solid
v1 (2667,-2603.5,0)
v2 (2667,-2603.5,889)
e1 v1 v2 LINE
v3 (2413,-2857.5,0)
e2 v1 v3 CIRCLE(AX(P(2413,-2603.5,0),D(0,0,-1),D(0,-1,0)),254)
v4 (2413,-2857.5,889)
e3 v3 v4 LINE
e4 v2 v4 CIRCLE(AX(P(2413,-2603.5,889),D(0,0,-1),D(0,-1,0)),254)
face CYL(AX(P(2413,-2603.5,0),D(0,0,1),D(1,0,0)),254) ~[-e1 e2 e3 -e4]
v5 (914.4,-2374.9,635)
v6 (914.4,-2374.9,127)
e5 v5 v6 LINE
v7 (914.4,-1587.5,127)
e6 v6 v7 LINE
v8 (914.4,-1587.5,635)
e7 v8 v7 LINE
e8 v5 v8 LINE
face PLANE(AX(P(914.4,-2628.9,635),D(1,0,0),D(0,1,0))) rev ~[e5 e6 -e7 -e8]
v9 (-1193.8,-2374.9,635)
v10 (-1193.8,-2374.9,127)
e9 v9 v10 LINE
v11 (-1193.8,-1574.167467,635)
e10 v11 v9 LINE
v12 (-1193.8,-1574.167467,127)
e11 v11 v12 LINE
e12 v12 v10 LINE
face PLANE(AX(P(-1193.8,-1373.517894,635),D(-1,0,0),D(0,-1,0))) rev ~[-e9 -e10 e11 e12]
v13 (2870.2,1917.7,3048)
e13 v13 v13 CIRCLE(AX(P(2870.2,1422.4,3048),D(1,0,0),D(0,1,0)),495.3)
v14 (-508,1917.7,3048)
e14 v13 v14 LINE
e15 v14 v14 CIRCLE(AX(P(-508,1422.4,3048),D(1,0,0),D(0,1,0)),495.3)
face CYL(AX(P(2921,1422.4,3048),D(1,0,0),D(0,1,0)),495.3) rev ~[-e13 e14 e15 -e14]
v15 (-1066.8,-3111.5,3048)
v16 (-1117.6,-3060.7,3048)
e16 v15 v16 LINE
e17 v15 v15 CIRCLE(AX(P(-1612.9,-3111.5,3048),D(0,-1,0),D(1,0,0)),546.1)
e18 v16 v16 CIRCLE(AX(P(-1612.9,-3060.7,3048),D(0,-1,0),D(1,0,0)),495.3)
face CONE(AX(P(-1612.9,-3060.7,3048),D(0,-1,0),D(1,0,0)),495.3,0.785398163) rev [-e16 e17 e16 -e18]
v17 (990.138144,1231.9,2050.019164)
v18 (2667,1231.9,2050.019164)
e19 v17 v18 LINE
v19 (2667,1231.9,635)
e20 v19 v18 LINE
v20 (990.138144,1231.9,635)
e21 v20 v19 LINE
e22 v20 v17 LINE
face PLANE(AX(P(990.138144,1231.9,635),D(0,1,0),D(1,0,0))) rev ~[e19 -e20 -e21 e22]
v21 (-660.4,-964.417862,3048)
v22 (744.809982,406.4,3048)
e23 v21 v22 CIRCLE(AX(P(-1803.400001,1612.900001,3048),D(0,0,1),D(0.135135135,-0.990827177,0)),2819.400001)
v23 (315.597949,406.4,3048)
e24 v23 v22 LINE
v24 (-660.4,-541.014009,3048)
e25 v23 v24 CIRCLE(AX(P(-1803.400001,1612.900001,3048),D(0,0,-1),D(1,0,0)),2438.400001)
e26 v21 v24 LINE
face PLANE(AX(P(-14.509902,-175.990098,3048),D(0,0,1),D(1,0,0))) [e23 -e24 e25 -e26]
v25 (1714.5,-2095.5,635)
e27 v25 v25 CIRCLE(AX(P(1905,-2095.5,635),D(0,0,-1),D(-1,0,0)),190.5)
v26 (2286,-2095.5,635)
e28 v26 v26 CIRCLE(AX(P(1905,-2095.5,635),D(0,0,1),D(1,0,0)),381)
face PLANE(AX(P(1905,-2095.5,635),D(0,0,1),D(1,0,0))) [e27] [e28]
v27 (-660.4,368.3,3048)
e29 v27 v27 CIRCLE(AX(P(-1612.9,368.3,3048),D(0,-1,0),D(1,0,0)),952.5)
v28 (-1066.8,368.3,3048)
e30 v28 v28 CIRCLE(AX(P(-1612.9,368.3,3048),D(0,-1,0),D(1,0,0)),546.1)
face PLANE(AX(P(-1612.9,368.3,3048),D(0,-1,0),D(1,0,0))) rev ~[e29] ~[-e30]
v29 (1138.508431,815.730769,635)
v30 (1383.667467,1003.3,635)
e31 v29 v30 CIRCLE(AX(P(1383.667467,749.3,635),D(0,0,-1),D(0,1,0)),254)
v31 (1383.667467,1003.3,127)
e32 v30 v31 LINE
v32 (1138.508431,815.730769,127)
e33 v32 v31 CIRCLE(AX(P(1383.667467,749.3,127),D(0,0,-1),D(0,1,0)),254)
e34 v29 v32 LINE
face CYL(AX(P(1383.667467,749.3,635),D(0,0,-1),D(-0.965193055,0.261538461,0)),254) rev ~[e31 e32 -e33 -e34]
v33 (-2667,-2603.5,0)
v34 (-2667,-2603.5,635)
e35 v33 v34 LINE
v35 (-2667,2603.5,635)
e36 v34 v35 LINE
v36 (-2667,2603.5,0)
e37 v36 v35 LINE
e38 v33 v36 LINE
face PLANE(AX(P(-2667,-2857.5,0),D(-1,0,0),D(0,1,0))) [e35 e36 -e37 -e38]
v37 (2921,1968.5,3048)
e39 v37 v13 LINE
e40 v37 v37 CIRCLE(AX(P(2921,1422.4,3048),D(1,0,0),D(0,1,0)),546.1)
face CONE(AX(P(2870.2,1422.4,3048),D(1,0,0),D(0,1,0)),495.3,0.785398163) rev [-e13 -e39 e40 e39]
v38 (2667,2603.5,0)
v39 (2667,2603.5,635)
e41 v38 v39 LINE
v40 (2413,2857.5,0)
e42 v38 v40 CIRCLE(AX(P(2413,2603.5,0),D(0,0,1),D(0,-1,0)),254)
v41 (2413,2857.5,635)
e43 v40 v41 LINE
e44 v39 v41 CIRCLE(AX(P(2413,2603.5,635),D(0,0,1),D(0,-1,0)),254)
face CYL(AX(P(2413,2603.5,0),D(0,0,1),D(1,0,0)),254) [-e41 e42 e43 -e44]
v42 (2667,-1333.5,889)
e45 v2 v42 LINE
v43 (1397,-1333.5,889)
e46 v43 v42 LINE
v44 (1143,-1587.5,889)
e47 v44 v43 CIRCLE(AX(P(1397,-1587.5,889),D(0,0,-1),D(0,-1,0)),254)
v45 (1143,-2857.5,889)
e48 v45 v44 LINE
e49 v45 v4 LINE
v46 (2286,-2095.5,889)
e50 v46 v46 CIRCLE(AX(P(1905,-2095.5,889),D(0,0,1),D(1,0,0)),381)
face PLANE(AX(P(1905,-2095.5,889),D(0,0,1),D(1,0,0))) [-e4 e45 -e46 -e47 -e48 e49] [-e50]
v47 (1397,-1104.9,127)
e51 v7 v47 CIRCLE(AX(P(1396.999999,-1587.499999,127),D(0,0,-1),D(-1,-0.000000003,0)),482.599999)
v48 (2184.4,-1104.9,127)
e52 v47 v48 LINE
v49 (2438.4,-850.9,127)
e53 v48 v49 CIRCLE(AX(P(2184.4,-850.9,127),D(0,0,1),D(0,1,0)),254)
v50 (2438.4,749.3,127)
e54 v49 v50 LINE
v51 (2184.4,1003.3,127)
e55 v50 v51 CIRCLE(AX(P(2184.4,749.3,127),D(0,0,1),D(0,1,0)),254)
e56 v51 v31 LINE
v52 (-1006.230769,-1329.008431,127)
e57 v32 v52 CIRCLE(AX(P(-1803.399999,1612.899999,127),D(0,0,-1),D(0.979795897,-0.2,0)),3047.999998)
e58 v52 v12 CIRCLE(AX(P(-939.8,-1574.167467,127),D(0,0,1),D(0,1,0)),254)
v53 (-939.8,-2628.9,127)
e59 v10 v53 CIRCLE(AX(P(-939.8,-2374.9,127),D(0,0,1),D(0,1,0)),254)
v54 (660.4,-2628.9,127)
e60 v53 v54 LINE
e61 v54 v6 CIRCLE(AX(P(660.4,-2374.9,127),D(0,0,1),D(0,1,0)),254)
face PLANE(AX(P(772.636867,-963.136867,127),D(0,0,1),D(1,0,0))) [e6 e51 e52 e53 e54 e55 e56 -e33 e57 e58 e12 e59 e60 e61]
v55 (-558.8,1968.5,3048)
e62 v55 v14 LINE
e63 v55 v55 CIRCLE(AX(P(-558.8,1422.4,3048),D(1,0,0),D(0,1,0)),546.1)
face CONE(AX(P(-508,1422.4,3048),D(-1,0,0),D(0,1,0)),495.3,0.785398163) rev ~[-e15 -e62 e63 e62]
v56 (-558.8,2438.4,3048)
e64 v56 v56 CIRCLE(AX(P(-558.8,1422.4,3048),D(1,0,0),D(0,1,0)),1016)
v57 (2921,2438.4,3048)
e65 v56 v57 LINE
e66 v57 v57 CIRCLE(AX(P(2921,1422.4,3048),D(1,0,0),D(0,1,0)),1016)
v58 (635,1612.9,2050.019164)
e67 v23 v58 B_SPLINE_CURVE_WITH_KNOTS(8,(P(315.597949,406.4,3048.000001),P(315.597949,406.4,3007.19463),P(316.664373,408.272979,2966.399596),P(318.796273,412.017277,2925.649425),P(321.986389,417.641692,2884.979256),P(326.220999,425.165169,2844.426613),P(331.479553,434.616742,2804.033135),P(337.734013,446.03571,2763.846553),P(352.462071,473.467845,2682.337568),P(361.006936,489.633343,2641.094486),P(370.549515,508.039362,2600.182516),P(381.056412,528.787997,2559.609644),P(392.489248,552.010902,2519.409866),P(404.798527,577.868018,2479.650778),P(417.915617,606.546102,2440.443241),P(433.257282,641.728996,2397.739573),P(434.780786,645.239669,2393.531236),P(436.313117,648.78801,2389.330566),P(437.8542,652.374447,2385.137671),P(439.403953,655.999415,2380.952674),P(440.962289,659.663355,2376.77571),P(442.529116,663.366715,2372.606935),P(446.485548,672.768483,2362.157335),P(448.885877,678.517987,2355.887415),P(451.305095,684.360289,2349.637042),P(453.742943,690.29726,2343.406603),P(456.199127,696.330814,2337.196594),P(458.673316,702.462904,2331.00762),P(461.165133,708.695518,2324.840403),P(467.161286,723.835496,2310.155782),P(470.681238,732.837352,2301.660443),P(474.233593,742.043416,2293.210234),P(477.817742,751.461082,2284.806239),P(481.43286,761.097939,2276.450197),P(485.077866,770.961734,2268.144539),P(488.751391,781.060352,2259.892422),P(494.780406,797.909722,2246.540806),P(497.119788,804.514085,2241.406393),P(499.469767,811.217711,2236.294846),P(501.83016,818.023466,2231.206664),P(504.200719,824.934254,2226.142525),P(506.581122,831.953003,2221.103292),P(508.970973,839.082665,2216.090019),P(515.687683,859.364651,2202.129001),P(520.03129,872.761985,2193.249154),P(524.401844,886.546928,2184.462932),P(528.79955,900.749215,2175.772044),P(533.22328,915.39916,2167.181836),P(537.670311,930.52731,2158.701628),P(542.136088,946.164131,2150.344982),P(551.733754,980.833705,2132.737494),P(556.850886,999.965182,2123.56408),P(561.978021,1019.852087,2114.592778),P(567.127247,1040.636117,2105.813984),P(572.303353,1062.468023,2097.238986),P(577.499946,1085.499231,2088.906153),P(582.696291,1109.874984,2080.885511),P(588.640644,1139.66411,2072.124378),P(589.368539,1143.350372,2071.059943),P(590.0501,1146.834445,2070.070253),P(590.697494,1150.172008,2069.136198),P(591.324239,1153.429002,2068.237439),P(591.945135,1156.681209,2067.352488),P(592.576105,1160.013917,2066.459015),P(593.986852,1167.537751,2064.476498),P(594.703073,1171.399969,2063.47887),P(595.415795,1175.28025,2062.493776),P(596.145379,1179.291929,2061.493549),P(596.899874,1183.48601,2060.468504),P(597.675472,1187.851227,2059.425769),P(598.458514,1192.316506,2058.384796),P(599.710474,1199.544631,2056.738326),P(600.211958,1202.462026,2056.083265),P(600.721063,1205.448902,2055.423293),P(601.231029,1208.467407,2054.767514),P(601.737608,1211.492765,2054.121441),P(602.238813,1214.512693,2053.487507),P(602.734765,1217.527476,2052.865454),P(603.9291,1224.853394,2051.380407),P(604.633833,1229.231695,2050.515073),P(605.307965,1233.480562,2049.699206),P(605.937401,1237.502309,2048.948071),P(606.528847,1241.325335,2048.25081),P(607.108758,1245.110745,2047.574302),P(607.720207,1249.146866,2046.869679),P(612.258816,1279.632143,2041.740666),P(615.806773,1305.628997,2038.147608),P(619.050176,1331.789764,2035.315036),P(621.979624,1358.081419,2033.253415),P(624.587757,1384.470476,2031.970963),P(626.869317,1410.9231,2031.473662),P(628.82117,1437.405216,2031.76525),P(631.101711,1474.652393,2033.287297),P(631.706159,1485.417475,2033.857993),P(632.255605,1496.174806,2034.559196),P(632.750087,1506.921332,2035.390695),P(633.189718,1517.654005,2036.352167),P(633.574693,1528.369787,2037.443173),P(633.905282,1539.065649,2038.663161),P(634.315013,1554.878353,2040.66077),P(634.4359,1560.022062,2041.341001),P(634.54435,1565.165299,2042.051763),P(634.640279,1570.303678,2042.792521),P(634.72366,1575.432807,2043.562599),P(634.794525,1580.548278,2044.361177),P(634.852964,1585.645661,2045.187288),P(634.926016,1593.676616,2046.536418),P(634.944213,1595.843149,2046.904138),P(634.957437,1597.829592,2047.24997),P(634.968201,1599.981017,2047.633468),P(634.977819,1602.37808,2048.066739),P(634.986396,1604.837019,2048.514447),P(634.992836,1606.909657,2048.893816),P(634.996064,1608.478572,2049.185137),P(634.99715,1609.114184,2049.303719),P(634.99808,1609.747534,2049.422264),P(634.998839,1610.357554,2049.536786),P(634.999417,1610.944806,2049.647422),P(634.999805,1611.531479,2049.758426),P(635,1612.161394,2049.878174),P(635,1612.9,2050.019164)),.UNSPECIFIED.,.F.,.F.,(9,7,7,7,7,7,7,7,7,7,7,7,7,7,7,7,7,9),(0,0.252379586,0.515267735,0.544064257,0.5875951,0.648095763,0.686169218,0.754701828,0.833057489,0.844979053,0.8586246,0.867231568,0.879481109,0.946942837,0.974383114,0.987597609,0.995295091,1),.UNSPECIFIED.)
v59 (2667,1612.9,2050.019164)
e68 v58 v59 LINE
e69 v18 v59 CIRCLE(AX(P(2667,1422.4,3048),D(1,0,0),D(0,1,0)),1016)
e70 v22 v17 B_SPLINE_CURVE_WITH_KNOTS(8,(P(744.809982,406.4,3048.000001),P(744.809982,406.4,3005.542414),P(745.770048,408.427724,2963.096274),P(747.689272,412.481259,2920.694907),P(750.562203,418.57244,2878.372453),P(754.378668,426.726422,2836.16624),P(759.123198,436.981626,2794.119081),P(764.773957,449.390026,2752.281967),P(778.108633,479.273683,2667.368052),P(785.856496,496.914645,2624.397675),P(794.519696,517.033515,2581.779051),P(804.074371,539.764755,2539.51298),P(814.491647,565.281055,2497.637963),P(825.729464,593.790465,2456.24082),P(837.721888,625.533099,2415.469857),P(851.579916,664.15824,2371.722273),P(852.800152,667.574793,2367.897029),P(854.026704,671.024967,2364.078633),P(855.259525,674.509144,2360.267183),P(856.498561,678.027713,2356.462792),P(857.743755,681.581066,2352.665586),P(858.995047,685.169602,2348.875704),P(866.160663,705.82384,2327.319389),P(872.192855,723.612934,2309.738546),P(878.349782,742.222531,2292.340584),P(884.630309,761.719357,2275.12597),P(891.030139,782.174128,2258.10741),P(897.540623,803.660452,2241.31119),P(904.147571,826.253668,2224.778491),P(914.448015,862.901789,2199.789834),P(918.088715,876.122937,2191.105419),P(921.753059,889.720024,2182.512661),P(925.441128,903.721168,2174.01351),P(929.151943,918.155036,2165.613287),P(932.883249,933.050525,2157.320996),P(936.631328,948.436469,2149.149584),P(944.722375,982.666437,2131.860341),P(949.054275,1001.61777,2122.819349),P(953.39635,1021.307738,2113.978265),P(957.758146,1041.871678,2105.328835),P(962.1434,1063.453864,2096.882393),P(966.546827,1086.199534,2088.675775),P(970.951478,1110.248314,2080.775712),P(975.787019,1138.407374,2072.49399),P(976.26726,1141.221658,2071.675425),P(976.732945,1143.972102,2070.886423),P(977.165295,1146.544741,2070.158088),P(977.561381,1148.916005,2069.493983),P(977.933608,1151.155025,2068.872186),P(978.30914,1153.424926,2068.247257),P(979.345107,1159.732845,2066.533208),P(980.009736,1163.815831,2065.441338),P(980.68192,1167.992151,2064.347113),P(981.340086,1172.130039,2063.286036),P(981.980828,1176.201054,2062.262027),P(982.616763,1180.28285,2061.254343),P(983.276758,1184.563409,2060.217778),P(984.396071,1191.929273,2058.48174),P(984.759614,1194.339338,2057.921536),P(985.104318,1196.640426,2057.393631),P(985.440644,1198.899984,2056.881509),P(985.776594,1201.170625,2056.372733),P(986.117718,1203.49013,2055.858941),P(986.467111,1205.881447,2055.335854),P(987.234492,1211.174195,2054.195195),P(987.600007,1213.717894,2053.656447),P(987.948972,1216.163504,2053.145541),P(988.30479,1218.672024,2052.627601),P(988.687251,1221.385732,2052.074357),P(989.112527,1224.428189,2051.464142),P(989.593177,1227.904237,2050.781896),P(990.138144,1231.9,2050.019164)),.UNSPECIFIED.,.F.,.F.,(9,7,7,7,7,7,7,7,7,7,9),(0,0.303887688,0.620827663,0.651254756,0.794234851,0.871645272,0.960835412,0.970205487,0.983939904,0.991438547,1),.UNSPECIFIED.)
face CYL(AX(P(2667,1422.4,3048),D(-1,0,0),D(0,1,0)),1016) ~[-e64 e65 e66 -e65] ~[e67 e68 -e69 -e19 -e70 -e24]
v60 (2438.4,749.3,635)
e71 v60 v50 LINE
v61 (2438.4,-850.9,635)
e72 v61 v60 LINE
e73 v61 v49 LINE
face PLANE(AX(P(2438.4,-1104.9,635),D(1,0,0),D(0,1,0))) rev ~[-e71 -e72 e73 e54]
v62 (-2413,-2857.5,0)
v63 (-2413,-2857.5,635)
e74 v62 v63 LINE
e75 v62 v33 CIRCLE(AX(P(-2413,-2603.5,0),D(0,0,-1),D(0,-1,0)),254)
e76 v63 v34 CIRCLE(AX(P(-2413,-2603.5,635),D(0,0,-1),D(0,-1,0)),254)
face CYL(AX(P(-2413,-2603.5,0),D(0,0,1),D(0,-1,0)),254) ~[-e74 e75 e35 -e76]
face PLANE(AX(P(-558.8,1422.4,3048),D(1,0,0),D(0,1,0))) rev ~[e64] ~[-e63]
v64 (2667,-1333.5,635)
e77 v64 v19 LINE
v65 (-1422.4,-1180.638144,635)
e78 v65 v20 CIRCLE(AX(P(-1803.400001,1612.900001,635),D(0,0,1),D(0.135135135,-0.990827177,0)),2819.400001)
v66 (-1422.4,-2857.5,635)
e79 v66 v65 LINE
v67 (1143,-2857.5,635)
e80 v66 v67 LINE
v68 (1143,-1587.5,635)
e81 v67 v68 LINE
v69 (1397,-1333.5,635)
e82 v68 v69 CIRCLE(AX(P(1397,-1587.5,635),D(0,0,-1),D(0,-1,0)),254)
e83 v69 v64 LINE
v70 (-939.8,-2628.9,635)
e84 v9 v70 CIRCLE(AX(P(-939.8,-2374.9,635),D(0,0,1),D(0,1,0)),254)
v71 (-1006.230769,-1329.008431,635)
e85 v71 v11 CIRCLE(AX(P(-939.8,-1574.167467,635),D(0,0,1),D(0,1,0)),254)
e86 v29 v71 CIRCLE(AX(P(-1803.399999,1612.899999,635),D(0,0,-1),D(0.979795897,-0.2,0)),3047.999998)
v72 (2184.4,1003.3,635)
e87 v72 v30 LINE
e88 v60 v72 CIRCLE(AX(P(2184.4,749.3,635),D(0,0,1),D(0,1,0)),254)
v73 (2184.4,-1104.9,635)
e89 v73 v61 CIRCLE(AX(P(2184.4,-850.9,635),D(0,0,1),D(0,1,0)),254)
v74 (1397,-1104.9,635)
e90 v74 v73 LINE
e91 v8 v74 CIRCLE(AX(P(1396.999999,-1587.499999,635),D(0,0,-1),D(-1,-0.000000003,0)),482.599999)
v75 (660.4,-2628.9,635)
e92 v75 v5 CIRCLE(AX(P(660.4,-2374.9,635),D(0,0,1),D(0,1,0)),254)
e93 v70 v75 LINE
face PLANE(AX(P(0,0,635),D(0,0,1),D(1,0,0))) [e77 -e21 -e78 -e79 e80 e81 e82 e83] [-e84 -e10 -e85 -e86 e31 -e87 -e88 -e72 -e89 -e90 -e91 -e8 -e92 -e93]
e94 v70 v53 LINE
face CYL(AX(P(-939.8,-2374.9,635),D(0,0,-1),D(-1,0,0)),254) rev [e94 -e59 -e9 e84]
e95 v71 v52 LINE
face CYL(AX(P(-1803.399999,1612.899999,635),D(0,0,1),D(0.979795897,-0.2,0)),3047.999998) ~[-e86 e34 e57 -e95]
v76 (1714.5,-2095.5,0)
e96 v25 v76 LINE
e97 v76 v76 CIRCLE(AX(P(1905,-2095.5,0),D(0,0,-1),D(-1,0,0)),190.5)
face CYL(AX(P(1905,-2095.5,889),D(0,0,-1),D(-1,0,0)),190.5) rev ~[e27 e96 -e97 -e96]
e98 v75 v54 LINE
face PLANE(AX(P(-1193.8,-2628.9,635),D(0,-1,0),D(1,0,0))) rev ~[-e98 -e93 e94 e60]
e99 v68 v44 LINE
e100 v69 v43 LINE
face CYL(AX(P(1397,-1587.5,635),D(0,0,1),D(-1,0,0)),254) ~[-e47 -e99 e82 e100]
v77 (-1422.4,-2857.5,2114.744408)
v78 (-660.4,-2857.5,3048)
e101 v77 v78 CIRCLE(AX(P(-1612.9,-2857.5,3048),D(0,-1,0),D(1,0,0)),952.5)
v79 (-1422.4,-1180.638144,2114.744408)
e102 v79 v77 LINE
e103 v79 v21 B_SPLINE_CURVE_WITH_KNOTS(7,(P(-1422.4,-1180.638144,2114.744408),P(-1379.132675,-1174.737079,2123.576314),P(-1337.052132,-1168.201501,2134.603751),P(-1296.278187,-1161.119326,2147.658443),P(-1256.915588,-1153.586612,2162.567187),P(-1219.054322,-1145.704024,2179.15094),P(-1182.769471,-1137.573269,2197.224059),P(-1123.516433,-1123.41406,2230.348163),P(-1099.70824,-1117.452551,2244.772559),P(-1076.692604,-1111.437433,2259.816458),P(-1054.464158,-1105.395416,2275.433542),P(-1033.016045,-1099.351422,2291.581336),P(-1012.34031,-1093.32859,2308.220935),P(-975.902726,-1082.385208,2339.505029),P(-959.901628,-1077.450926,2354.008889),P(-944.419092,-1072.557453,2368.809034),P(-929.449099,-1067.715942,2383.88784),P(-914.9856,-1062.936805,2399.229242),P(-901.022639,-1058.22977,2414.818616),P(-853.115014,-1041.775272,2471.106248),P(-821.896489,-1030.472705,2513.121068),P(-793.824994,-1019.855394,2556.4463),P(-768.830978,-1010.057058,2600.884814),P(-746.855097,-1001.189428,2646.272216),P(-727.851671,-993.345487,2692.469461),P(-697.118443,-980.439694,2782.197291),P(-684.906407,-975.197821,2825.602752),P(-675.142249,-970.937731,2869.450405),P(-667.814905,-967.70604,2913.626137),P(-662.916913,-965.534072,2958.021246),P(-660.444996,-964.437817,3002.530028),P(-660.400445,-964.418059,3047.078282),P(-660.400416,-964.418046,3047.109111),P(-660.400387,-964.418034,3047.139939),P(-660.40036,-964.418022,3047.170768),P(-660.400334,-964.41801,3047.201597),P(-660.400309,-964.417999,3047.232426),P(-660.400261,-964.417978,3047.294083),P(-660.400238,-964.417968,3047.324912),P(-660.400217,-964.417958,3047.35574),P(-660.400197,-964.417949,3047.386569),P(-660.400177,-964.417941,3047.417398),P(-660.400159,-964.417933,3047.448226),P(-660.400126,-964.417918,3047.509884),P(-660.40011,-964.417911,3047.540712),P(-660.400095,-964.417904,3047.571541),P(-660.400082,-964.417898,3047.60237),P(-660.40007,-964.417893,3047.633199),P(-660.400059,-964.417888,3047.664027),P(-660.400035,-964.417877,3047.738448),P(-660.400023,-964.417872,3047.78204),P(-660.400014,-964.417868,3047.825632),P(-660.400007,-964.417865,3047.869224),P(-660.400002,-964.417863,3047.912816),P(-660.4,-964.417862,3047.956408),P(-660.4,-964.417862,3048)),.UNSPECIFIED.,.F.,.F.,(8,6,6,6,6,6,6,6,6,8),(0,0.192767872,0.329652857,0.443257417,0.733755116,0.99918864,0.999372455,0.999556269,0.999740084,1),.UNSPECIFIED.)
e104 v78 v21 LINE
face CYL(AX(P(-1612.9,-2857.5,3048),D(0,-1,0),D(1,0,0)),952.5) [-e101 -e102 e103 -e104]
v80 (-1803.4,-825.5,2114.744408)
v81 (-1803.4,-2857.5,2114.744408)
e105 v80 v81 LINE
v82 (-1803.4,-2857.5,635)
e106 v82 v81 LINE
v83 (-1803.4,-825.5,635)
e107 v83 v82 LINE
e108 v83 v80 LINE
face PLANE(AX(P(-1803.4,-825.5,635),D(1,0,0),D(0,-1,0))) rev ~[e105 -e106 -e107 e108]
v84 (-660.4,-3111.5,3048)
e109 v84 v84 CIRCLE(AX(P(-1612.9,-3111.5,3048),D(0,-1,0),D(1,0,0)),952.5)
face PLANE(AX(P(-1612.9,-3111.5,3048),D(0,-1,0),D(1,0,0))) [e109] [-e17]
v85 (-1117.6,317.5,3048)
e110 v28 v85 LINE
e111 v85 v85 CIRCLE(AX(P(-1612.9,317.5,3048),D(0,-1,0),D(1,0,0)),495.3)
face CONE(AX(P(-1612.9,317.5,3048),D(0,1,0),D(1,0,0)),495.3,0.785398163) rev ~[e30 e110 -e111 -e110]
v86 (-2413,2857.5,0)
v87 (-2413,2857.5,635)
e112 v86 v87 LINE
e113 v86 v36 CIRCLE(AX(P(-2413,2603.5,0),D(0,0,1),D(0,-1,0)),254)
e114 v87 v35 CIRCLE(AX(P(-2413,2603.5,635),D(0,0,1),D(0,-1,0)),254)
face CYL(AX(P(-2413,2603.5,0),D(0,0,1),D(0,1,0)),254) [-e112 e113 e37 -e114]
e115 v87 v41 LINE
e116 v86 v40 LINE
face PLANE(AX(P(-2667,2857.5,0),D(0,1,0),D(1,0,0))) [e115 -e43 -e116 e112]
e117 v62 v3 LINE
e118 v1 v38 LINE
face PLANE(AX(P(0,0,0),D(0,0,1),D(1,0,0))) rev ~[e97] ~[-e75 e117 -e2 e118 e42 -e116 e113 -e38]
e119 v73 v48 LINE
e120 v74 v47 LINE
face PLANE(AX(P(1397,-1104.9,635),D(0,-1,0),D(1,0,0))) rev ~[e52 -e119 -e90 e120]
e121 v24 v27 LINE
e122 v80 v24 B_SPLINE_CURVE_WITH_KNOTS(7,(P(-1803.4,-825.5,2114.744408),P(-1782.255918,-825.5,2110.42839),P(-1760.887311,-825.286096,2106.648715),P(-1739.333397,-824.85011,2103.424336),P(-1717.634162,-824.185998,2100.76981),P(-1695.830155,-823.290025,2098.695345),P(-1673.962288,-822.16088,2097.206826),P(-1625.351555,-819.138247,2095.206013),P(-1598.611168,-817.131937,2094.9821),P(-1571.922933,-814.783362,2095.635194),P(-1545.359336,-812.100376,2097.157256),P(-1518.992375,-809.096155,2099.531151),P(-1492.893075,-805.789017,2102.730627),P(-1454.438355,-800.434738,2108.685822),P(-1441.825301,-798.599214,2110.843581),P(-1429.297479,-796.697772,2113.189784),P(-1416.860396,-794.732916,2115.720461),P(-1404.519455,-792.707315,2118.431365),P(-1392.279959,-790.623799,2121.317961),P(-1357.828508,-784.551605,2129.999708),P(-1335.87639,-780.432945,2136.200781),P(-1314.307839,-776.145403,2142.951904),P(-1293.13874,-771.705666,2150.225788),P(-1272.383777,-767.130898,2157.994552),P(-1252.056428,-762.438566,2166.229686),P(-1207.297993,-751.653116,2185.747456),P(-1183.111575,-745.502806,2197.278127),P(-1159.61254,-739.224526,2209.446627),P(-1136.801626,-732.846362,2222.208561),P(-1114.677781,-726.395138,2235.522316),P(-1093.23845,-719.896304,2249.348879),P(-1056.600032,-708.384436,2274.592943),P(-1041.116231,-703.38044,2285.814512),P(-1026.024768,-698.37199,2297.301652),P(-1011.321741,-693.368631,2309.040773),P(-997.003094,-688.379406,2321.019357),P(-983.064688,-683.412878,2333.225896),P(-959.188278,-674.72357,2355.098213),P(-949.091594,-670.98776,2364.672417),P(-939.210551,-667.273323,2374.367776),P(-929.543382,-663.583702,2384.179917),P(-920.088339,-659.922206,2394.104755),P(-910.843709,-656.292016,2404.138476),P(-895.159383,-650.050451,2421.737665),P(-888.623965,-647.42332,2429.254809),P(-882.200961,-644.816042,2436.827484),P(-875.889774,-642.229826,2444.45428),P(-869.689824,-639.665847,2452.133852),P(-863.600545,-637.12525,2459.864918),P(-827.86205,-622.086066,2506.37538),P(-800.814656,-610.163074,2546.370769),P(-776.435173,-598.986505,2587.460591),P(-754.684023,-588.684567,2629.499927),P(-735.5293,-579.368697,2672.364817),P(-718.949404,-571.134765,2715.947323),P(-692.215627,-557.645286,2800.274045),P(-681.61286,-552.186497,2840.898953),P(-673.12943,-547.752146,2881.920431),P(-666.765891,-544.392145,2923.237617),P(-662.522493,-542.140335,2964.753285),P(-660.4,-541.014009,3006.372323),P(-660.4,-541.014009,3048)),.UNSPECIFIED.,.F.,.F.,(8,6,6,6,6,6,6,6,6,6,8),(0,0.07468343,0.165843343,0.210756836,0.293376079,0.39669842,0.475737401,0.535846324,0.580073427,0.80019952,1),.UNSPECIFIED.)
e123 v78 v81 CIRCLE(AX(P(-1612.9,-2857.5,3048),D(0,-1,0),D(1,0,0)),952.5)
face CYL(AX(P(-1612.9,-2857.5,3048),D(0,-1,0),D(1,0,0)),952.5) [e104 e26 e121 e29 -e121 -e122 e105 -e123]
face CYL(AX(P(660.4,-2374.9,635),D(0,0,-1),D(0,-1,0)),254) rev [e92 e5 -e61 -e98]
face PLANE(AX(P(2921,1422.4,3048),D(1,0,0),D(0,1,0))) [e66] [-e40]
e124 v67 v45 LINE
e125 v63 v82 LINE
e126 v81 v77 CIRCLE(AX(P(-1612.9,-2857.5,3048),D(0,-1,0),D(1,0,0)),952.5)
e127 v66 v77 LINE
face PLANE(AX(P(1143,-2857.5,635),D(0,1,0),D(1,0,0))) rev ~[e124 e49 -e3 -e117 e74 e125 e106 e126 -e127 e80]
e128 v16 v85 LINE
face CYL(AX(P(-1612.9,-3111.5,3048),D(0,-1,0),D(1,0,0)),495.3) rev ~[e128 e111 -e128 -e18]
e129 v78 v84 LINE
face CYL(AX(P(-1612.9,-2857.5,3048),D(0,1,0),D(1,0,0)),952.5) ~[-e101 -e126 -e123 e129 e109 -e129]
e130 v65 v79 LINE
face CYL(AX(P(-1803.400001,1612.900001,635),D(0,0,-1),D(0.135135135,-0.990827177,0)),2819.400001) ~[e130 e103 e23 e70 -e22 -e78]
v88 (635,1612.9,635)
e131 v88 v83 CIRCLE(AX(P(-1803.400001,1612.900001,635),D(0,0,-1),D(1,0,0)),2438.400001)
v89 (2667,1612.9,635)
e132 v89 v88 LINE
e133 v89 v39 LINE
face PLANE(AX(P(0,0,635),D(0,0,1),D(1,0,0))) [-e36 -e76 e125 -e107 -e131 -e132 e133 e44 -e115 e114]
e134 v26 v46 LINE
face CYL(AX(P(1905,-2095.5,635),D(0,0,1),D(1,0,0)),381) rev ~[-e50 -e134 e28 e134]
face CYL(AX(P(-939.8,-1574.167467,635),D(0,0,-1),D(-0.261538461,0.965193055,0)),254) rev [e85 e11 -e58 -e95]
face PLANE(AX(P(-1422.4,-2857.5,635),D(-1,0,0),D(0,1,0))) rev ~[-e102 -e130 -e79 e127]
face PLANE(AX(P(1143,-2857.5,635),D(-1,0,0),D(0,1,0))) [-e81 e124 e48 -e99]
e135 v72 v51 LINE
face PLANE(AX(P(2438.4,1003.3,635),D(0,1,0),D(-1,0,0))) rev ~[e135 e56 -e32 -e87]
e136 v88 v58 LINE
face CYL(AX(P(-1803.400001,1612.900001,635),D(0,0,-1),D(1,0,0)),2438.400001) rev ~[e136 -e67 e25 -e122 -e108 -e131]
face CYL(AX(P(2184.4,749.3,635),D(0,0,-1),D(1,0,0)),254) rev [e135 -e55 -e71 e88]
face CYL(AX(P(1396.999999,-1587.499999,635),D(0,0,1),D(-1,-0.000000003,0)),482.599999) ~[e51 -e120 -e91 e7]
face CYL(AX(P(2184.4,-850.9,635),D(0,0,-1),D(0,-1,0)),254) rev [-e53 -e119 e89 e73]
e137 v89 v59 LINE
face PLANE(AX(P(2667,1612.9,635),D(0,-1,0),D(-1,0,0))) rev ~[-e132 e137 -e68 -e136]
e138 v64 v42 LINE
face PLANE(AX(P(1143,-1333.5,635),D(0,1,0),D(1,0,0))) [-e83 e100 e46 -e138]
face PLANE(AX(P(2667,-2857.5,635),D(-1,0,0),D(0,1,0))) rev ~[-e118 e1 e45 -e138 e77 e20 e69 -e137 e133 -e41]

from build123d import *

# Parameters (mm, degrees)
F0_W            = 5334
F0_H            = 5715
F1_DEPTH        = 635
F3_DEPTH        = 2413
F4_R            = 952.5
F5_DEPTH        = 254
F5_DEPTH_BACK   = 3225.8
F6_R            = 1016
F7_DEPTH        = 254
F7_DEPTH_BACK   = 3225.8
F8_W            = 1524
F8_H            = 1524
F9_DEPTH        = 254
F10_R           = 254
F12_DEPTH       = 508
F14_D           = 381
F14_CBORE_D     = 762
F14_CBORE_DEPTH = 254
F15_R           = 254
F16_R           = 495.3
F17_DEPTH       = 5969.001
F18_R           = 495.3
F19_DEPTH       = 5588.001
F20_SIZE        = 50.8
F21_R           = 254


with BuildPart() as f1:
    # F0 (on Top) → F1 (new body)
    with BuildSketch(Plane.XY):
        Rectangle(F0_W, F0_H)
    extrude(amount=F1_DEPTH)

    # F2 (on face) → F3 (join)
    with BuildSketch(Plane.XY.offset(635)):
        with BuildLine():
            Line((-1803.4, -825.5), (-1803.4, -2857.5))
            Line((-1803.4, -2857.5), (-1422.4, -2857.5))
            Line((-1422.4, -2857.5), (-1422.4, -1180.638144))
            ThreePointArc((-1422.4, -1180.638144), (190.216859, -380.716859), (990.138144, 1231.9))
            Line((990.138144, 1231.9), (2667, 1231.9))
            Line((2667, 1231.9), (2667, 1612.9))
            Line((2667, 1612.9), (635, 1612.9))
            ThreePointArc((635, 1612.9), (-79.190825, -111.309175), (-1803.4, -825.5))
        make_face()
    extrude(amount=F3_DEPTH)

    # F4 (on face) → F5 (join, two sides)
    with BuildSketch(Plane.XZ.offset(2857.5)) as f5_sk:
        with Locations((-1612.9, 3048)):
            Circle(F4_R)
    extrude(amount=F5_DEPTH)
    extrude(f5_sk.sketch, amount=-F5_DEPTH_BACK)

    # F6 (on face) → F7 (join, two sides)
    with BuildSketch(Plane.YZ.offset(2667)) as f7_sk:
        with Locations((1422.4, 3048)):
            Circle(F6_R)
    extrude(amount=F7_DEPTH)
    extrude(f7_sk.sketch, amount=-F7_DEPTH_BACK)

    # F8 (on face) → F9 (join)
    with BuildSketch(Plane.XY.offset(635)):
        with Locations((1905, -2095.5)):
            Rectangle(F8_W, F8_H)
    extrude(amount=F9_DEPTH)

    # F10
    f10_edges = [f1.edges().sort_by_distance(p)[0] for p in [
        (1143, -1333.5, 762),
    ]]
    fillet(f10_edges, radius=F10_R)

    # F11 (on face) → F12 (cut)
    with BuildSketch(Plane.XY.offset(635)):
        with BuildLine():
            ThreePointArc((1183.017894, 1003.3), (351.861469, -542.361469), (-1193.8, -1373.517894))
            Line((-1193.8, -1373.517894), (-1193.8, -2628.9))
            Line((-1193.8, -2628.9), (914.4, -2628.9))
            Line((914.4, -2628.9), (914.4, -1587.5))
            ThreePointArc((914.4, -1587.5), (1055.750267, -1246.250267), (1397, -1104.9))
            Line((1397, -1104.9), (2438.4, -1104.9))
            Line((2438.4, -1104.9), (2438.4, 1003.3))
            Line((2438.4, 1003.3), (1183.017894, 1003.3))
        make_face()
    extrude(amount=-F12_DEPTH, mode=Mode.SUBTRACT)

    # F14 (through all)
    with Locations(Plane.XY.offset(889)):
        with Locations((1905, -2095.5)):
            CounterBoreHole(F14_D / 2, F14_CBORE_D / 2, F14_CBORE_DEPTH)

    # F15
    f15_edges = [f1.edges().sort_by_distance(p)[0] for p in [
        (-1193.8, -1373.517894, 381),
        (1183.017894, 1003.3, 381),
        (2438.4, 1003.3, 381),
        (2438.4, -1104.9, 381),
        (914.4, -2628.9, 381),
        (-1193.8, -2628.9, 381),
    ]]
    fillet(f15_edges, radius=F15_R)

    # F16 (on face) → F17 (cut, through all)
    with BuildSketch(Plane.XZ.offset(3111.5)):
        with Locations((-1612.9, 3048)):
            Circle(F16_R)
    extrude(amount=-F17_DEPTH, mode=Mode.SUBTRACT)

    # F18 (on face) → F19 (cut, through all)
    with BuildSketch(Plane.YZ.offset(2921)):
        with Locations((1422.4, 3048)):
            Circle(F18_R)
    extrude(amount=-F19_DEPTH, mode=Mode.SUBTRACT)

    # F20
    f20_edges = [f1.edges().sort_by_distance(p)[0] for p in [
        (-2108.2, -3111.5, 3048),
        (2921, 927.1, 3048),
        (-558.8, 927.1, 3048),
        (-2108.2, 368.3, 3048),
    ]]
    chamfer(f20_edges, length=F20_SIZE)

    # F21
    f21_edges = [f1.edges().sort_by_distance(p)[0] for p in [
        (-2667, -2857.5, 317.5),
        (2667, -2857.5, 444.5),
        (2667, 2857.5, 317.5),
        (-2667, 2857.5, 317.5),
    ]]
    fillet(f21_edges, radius=F21_R)


solid = f1.part
